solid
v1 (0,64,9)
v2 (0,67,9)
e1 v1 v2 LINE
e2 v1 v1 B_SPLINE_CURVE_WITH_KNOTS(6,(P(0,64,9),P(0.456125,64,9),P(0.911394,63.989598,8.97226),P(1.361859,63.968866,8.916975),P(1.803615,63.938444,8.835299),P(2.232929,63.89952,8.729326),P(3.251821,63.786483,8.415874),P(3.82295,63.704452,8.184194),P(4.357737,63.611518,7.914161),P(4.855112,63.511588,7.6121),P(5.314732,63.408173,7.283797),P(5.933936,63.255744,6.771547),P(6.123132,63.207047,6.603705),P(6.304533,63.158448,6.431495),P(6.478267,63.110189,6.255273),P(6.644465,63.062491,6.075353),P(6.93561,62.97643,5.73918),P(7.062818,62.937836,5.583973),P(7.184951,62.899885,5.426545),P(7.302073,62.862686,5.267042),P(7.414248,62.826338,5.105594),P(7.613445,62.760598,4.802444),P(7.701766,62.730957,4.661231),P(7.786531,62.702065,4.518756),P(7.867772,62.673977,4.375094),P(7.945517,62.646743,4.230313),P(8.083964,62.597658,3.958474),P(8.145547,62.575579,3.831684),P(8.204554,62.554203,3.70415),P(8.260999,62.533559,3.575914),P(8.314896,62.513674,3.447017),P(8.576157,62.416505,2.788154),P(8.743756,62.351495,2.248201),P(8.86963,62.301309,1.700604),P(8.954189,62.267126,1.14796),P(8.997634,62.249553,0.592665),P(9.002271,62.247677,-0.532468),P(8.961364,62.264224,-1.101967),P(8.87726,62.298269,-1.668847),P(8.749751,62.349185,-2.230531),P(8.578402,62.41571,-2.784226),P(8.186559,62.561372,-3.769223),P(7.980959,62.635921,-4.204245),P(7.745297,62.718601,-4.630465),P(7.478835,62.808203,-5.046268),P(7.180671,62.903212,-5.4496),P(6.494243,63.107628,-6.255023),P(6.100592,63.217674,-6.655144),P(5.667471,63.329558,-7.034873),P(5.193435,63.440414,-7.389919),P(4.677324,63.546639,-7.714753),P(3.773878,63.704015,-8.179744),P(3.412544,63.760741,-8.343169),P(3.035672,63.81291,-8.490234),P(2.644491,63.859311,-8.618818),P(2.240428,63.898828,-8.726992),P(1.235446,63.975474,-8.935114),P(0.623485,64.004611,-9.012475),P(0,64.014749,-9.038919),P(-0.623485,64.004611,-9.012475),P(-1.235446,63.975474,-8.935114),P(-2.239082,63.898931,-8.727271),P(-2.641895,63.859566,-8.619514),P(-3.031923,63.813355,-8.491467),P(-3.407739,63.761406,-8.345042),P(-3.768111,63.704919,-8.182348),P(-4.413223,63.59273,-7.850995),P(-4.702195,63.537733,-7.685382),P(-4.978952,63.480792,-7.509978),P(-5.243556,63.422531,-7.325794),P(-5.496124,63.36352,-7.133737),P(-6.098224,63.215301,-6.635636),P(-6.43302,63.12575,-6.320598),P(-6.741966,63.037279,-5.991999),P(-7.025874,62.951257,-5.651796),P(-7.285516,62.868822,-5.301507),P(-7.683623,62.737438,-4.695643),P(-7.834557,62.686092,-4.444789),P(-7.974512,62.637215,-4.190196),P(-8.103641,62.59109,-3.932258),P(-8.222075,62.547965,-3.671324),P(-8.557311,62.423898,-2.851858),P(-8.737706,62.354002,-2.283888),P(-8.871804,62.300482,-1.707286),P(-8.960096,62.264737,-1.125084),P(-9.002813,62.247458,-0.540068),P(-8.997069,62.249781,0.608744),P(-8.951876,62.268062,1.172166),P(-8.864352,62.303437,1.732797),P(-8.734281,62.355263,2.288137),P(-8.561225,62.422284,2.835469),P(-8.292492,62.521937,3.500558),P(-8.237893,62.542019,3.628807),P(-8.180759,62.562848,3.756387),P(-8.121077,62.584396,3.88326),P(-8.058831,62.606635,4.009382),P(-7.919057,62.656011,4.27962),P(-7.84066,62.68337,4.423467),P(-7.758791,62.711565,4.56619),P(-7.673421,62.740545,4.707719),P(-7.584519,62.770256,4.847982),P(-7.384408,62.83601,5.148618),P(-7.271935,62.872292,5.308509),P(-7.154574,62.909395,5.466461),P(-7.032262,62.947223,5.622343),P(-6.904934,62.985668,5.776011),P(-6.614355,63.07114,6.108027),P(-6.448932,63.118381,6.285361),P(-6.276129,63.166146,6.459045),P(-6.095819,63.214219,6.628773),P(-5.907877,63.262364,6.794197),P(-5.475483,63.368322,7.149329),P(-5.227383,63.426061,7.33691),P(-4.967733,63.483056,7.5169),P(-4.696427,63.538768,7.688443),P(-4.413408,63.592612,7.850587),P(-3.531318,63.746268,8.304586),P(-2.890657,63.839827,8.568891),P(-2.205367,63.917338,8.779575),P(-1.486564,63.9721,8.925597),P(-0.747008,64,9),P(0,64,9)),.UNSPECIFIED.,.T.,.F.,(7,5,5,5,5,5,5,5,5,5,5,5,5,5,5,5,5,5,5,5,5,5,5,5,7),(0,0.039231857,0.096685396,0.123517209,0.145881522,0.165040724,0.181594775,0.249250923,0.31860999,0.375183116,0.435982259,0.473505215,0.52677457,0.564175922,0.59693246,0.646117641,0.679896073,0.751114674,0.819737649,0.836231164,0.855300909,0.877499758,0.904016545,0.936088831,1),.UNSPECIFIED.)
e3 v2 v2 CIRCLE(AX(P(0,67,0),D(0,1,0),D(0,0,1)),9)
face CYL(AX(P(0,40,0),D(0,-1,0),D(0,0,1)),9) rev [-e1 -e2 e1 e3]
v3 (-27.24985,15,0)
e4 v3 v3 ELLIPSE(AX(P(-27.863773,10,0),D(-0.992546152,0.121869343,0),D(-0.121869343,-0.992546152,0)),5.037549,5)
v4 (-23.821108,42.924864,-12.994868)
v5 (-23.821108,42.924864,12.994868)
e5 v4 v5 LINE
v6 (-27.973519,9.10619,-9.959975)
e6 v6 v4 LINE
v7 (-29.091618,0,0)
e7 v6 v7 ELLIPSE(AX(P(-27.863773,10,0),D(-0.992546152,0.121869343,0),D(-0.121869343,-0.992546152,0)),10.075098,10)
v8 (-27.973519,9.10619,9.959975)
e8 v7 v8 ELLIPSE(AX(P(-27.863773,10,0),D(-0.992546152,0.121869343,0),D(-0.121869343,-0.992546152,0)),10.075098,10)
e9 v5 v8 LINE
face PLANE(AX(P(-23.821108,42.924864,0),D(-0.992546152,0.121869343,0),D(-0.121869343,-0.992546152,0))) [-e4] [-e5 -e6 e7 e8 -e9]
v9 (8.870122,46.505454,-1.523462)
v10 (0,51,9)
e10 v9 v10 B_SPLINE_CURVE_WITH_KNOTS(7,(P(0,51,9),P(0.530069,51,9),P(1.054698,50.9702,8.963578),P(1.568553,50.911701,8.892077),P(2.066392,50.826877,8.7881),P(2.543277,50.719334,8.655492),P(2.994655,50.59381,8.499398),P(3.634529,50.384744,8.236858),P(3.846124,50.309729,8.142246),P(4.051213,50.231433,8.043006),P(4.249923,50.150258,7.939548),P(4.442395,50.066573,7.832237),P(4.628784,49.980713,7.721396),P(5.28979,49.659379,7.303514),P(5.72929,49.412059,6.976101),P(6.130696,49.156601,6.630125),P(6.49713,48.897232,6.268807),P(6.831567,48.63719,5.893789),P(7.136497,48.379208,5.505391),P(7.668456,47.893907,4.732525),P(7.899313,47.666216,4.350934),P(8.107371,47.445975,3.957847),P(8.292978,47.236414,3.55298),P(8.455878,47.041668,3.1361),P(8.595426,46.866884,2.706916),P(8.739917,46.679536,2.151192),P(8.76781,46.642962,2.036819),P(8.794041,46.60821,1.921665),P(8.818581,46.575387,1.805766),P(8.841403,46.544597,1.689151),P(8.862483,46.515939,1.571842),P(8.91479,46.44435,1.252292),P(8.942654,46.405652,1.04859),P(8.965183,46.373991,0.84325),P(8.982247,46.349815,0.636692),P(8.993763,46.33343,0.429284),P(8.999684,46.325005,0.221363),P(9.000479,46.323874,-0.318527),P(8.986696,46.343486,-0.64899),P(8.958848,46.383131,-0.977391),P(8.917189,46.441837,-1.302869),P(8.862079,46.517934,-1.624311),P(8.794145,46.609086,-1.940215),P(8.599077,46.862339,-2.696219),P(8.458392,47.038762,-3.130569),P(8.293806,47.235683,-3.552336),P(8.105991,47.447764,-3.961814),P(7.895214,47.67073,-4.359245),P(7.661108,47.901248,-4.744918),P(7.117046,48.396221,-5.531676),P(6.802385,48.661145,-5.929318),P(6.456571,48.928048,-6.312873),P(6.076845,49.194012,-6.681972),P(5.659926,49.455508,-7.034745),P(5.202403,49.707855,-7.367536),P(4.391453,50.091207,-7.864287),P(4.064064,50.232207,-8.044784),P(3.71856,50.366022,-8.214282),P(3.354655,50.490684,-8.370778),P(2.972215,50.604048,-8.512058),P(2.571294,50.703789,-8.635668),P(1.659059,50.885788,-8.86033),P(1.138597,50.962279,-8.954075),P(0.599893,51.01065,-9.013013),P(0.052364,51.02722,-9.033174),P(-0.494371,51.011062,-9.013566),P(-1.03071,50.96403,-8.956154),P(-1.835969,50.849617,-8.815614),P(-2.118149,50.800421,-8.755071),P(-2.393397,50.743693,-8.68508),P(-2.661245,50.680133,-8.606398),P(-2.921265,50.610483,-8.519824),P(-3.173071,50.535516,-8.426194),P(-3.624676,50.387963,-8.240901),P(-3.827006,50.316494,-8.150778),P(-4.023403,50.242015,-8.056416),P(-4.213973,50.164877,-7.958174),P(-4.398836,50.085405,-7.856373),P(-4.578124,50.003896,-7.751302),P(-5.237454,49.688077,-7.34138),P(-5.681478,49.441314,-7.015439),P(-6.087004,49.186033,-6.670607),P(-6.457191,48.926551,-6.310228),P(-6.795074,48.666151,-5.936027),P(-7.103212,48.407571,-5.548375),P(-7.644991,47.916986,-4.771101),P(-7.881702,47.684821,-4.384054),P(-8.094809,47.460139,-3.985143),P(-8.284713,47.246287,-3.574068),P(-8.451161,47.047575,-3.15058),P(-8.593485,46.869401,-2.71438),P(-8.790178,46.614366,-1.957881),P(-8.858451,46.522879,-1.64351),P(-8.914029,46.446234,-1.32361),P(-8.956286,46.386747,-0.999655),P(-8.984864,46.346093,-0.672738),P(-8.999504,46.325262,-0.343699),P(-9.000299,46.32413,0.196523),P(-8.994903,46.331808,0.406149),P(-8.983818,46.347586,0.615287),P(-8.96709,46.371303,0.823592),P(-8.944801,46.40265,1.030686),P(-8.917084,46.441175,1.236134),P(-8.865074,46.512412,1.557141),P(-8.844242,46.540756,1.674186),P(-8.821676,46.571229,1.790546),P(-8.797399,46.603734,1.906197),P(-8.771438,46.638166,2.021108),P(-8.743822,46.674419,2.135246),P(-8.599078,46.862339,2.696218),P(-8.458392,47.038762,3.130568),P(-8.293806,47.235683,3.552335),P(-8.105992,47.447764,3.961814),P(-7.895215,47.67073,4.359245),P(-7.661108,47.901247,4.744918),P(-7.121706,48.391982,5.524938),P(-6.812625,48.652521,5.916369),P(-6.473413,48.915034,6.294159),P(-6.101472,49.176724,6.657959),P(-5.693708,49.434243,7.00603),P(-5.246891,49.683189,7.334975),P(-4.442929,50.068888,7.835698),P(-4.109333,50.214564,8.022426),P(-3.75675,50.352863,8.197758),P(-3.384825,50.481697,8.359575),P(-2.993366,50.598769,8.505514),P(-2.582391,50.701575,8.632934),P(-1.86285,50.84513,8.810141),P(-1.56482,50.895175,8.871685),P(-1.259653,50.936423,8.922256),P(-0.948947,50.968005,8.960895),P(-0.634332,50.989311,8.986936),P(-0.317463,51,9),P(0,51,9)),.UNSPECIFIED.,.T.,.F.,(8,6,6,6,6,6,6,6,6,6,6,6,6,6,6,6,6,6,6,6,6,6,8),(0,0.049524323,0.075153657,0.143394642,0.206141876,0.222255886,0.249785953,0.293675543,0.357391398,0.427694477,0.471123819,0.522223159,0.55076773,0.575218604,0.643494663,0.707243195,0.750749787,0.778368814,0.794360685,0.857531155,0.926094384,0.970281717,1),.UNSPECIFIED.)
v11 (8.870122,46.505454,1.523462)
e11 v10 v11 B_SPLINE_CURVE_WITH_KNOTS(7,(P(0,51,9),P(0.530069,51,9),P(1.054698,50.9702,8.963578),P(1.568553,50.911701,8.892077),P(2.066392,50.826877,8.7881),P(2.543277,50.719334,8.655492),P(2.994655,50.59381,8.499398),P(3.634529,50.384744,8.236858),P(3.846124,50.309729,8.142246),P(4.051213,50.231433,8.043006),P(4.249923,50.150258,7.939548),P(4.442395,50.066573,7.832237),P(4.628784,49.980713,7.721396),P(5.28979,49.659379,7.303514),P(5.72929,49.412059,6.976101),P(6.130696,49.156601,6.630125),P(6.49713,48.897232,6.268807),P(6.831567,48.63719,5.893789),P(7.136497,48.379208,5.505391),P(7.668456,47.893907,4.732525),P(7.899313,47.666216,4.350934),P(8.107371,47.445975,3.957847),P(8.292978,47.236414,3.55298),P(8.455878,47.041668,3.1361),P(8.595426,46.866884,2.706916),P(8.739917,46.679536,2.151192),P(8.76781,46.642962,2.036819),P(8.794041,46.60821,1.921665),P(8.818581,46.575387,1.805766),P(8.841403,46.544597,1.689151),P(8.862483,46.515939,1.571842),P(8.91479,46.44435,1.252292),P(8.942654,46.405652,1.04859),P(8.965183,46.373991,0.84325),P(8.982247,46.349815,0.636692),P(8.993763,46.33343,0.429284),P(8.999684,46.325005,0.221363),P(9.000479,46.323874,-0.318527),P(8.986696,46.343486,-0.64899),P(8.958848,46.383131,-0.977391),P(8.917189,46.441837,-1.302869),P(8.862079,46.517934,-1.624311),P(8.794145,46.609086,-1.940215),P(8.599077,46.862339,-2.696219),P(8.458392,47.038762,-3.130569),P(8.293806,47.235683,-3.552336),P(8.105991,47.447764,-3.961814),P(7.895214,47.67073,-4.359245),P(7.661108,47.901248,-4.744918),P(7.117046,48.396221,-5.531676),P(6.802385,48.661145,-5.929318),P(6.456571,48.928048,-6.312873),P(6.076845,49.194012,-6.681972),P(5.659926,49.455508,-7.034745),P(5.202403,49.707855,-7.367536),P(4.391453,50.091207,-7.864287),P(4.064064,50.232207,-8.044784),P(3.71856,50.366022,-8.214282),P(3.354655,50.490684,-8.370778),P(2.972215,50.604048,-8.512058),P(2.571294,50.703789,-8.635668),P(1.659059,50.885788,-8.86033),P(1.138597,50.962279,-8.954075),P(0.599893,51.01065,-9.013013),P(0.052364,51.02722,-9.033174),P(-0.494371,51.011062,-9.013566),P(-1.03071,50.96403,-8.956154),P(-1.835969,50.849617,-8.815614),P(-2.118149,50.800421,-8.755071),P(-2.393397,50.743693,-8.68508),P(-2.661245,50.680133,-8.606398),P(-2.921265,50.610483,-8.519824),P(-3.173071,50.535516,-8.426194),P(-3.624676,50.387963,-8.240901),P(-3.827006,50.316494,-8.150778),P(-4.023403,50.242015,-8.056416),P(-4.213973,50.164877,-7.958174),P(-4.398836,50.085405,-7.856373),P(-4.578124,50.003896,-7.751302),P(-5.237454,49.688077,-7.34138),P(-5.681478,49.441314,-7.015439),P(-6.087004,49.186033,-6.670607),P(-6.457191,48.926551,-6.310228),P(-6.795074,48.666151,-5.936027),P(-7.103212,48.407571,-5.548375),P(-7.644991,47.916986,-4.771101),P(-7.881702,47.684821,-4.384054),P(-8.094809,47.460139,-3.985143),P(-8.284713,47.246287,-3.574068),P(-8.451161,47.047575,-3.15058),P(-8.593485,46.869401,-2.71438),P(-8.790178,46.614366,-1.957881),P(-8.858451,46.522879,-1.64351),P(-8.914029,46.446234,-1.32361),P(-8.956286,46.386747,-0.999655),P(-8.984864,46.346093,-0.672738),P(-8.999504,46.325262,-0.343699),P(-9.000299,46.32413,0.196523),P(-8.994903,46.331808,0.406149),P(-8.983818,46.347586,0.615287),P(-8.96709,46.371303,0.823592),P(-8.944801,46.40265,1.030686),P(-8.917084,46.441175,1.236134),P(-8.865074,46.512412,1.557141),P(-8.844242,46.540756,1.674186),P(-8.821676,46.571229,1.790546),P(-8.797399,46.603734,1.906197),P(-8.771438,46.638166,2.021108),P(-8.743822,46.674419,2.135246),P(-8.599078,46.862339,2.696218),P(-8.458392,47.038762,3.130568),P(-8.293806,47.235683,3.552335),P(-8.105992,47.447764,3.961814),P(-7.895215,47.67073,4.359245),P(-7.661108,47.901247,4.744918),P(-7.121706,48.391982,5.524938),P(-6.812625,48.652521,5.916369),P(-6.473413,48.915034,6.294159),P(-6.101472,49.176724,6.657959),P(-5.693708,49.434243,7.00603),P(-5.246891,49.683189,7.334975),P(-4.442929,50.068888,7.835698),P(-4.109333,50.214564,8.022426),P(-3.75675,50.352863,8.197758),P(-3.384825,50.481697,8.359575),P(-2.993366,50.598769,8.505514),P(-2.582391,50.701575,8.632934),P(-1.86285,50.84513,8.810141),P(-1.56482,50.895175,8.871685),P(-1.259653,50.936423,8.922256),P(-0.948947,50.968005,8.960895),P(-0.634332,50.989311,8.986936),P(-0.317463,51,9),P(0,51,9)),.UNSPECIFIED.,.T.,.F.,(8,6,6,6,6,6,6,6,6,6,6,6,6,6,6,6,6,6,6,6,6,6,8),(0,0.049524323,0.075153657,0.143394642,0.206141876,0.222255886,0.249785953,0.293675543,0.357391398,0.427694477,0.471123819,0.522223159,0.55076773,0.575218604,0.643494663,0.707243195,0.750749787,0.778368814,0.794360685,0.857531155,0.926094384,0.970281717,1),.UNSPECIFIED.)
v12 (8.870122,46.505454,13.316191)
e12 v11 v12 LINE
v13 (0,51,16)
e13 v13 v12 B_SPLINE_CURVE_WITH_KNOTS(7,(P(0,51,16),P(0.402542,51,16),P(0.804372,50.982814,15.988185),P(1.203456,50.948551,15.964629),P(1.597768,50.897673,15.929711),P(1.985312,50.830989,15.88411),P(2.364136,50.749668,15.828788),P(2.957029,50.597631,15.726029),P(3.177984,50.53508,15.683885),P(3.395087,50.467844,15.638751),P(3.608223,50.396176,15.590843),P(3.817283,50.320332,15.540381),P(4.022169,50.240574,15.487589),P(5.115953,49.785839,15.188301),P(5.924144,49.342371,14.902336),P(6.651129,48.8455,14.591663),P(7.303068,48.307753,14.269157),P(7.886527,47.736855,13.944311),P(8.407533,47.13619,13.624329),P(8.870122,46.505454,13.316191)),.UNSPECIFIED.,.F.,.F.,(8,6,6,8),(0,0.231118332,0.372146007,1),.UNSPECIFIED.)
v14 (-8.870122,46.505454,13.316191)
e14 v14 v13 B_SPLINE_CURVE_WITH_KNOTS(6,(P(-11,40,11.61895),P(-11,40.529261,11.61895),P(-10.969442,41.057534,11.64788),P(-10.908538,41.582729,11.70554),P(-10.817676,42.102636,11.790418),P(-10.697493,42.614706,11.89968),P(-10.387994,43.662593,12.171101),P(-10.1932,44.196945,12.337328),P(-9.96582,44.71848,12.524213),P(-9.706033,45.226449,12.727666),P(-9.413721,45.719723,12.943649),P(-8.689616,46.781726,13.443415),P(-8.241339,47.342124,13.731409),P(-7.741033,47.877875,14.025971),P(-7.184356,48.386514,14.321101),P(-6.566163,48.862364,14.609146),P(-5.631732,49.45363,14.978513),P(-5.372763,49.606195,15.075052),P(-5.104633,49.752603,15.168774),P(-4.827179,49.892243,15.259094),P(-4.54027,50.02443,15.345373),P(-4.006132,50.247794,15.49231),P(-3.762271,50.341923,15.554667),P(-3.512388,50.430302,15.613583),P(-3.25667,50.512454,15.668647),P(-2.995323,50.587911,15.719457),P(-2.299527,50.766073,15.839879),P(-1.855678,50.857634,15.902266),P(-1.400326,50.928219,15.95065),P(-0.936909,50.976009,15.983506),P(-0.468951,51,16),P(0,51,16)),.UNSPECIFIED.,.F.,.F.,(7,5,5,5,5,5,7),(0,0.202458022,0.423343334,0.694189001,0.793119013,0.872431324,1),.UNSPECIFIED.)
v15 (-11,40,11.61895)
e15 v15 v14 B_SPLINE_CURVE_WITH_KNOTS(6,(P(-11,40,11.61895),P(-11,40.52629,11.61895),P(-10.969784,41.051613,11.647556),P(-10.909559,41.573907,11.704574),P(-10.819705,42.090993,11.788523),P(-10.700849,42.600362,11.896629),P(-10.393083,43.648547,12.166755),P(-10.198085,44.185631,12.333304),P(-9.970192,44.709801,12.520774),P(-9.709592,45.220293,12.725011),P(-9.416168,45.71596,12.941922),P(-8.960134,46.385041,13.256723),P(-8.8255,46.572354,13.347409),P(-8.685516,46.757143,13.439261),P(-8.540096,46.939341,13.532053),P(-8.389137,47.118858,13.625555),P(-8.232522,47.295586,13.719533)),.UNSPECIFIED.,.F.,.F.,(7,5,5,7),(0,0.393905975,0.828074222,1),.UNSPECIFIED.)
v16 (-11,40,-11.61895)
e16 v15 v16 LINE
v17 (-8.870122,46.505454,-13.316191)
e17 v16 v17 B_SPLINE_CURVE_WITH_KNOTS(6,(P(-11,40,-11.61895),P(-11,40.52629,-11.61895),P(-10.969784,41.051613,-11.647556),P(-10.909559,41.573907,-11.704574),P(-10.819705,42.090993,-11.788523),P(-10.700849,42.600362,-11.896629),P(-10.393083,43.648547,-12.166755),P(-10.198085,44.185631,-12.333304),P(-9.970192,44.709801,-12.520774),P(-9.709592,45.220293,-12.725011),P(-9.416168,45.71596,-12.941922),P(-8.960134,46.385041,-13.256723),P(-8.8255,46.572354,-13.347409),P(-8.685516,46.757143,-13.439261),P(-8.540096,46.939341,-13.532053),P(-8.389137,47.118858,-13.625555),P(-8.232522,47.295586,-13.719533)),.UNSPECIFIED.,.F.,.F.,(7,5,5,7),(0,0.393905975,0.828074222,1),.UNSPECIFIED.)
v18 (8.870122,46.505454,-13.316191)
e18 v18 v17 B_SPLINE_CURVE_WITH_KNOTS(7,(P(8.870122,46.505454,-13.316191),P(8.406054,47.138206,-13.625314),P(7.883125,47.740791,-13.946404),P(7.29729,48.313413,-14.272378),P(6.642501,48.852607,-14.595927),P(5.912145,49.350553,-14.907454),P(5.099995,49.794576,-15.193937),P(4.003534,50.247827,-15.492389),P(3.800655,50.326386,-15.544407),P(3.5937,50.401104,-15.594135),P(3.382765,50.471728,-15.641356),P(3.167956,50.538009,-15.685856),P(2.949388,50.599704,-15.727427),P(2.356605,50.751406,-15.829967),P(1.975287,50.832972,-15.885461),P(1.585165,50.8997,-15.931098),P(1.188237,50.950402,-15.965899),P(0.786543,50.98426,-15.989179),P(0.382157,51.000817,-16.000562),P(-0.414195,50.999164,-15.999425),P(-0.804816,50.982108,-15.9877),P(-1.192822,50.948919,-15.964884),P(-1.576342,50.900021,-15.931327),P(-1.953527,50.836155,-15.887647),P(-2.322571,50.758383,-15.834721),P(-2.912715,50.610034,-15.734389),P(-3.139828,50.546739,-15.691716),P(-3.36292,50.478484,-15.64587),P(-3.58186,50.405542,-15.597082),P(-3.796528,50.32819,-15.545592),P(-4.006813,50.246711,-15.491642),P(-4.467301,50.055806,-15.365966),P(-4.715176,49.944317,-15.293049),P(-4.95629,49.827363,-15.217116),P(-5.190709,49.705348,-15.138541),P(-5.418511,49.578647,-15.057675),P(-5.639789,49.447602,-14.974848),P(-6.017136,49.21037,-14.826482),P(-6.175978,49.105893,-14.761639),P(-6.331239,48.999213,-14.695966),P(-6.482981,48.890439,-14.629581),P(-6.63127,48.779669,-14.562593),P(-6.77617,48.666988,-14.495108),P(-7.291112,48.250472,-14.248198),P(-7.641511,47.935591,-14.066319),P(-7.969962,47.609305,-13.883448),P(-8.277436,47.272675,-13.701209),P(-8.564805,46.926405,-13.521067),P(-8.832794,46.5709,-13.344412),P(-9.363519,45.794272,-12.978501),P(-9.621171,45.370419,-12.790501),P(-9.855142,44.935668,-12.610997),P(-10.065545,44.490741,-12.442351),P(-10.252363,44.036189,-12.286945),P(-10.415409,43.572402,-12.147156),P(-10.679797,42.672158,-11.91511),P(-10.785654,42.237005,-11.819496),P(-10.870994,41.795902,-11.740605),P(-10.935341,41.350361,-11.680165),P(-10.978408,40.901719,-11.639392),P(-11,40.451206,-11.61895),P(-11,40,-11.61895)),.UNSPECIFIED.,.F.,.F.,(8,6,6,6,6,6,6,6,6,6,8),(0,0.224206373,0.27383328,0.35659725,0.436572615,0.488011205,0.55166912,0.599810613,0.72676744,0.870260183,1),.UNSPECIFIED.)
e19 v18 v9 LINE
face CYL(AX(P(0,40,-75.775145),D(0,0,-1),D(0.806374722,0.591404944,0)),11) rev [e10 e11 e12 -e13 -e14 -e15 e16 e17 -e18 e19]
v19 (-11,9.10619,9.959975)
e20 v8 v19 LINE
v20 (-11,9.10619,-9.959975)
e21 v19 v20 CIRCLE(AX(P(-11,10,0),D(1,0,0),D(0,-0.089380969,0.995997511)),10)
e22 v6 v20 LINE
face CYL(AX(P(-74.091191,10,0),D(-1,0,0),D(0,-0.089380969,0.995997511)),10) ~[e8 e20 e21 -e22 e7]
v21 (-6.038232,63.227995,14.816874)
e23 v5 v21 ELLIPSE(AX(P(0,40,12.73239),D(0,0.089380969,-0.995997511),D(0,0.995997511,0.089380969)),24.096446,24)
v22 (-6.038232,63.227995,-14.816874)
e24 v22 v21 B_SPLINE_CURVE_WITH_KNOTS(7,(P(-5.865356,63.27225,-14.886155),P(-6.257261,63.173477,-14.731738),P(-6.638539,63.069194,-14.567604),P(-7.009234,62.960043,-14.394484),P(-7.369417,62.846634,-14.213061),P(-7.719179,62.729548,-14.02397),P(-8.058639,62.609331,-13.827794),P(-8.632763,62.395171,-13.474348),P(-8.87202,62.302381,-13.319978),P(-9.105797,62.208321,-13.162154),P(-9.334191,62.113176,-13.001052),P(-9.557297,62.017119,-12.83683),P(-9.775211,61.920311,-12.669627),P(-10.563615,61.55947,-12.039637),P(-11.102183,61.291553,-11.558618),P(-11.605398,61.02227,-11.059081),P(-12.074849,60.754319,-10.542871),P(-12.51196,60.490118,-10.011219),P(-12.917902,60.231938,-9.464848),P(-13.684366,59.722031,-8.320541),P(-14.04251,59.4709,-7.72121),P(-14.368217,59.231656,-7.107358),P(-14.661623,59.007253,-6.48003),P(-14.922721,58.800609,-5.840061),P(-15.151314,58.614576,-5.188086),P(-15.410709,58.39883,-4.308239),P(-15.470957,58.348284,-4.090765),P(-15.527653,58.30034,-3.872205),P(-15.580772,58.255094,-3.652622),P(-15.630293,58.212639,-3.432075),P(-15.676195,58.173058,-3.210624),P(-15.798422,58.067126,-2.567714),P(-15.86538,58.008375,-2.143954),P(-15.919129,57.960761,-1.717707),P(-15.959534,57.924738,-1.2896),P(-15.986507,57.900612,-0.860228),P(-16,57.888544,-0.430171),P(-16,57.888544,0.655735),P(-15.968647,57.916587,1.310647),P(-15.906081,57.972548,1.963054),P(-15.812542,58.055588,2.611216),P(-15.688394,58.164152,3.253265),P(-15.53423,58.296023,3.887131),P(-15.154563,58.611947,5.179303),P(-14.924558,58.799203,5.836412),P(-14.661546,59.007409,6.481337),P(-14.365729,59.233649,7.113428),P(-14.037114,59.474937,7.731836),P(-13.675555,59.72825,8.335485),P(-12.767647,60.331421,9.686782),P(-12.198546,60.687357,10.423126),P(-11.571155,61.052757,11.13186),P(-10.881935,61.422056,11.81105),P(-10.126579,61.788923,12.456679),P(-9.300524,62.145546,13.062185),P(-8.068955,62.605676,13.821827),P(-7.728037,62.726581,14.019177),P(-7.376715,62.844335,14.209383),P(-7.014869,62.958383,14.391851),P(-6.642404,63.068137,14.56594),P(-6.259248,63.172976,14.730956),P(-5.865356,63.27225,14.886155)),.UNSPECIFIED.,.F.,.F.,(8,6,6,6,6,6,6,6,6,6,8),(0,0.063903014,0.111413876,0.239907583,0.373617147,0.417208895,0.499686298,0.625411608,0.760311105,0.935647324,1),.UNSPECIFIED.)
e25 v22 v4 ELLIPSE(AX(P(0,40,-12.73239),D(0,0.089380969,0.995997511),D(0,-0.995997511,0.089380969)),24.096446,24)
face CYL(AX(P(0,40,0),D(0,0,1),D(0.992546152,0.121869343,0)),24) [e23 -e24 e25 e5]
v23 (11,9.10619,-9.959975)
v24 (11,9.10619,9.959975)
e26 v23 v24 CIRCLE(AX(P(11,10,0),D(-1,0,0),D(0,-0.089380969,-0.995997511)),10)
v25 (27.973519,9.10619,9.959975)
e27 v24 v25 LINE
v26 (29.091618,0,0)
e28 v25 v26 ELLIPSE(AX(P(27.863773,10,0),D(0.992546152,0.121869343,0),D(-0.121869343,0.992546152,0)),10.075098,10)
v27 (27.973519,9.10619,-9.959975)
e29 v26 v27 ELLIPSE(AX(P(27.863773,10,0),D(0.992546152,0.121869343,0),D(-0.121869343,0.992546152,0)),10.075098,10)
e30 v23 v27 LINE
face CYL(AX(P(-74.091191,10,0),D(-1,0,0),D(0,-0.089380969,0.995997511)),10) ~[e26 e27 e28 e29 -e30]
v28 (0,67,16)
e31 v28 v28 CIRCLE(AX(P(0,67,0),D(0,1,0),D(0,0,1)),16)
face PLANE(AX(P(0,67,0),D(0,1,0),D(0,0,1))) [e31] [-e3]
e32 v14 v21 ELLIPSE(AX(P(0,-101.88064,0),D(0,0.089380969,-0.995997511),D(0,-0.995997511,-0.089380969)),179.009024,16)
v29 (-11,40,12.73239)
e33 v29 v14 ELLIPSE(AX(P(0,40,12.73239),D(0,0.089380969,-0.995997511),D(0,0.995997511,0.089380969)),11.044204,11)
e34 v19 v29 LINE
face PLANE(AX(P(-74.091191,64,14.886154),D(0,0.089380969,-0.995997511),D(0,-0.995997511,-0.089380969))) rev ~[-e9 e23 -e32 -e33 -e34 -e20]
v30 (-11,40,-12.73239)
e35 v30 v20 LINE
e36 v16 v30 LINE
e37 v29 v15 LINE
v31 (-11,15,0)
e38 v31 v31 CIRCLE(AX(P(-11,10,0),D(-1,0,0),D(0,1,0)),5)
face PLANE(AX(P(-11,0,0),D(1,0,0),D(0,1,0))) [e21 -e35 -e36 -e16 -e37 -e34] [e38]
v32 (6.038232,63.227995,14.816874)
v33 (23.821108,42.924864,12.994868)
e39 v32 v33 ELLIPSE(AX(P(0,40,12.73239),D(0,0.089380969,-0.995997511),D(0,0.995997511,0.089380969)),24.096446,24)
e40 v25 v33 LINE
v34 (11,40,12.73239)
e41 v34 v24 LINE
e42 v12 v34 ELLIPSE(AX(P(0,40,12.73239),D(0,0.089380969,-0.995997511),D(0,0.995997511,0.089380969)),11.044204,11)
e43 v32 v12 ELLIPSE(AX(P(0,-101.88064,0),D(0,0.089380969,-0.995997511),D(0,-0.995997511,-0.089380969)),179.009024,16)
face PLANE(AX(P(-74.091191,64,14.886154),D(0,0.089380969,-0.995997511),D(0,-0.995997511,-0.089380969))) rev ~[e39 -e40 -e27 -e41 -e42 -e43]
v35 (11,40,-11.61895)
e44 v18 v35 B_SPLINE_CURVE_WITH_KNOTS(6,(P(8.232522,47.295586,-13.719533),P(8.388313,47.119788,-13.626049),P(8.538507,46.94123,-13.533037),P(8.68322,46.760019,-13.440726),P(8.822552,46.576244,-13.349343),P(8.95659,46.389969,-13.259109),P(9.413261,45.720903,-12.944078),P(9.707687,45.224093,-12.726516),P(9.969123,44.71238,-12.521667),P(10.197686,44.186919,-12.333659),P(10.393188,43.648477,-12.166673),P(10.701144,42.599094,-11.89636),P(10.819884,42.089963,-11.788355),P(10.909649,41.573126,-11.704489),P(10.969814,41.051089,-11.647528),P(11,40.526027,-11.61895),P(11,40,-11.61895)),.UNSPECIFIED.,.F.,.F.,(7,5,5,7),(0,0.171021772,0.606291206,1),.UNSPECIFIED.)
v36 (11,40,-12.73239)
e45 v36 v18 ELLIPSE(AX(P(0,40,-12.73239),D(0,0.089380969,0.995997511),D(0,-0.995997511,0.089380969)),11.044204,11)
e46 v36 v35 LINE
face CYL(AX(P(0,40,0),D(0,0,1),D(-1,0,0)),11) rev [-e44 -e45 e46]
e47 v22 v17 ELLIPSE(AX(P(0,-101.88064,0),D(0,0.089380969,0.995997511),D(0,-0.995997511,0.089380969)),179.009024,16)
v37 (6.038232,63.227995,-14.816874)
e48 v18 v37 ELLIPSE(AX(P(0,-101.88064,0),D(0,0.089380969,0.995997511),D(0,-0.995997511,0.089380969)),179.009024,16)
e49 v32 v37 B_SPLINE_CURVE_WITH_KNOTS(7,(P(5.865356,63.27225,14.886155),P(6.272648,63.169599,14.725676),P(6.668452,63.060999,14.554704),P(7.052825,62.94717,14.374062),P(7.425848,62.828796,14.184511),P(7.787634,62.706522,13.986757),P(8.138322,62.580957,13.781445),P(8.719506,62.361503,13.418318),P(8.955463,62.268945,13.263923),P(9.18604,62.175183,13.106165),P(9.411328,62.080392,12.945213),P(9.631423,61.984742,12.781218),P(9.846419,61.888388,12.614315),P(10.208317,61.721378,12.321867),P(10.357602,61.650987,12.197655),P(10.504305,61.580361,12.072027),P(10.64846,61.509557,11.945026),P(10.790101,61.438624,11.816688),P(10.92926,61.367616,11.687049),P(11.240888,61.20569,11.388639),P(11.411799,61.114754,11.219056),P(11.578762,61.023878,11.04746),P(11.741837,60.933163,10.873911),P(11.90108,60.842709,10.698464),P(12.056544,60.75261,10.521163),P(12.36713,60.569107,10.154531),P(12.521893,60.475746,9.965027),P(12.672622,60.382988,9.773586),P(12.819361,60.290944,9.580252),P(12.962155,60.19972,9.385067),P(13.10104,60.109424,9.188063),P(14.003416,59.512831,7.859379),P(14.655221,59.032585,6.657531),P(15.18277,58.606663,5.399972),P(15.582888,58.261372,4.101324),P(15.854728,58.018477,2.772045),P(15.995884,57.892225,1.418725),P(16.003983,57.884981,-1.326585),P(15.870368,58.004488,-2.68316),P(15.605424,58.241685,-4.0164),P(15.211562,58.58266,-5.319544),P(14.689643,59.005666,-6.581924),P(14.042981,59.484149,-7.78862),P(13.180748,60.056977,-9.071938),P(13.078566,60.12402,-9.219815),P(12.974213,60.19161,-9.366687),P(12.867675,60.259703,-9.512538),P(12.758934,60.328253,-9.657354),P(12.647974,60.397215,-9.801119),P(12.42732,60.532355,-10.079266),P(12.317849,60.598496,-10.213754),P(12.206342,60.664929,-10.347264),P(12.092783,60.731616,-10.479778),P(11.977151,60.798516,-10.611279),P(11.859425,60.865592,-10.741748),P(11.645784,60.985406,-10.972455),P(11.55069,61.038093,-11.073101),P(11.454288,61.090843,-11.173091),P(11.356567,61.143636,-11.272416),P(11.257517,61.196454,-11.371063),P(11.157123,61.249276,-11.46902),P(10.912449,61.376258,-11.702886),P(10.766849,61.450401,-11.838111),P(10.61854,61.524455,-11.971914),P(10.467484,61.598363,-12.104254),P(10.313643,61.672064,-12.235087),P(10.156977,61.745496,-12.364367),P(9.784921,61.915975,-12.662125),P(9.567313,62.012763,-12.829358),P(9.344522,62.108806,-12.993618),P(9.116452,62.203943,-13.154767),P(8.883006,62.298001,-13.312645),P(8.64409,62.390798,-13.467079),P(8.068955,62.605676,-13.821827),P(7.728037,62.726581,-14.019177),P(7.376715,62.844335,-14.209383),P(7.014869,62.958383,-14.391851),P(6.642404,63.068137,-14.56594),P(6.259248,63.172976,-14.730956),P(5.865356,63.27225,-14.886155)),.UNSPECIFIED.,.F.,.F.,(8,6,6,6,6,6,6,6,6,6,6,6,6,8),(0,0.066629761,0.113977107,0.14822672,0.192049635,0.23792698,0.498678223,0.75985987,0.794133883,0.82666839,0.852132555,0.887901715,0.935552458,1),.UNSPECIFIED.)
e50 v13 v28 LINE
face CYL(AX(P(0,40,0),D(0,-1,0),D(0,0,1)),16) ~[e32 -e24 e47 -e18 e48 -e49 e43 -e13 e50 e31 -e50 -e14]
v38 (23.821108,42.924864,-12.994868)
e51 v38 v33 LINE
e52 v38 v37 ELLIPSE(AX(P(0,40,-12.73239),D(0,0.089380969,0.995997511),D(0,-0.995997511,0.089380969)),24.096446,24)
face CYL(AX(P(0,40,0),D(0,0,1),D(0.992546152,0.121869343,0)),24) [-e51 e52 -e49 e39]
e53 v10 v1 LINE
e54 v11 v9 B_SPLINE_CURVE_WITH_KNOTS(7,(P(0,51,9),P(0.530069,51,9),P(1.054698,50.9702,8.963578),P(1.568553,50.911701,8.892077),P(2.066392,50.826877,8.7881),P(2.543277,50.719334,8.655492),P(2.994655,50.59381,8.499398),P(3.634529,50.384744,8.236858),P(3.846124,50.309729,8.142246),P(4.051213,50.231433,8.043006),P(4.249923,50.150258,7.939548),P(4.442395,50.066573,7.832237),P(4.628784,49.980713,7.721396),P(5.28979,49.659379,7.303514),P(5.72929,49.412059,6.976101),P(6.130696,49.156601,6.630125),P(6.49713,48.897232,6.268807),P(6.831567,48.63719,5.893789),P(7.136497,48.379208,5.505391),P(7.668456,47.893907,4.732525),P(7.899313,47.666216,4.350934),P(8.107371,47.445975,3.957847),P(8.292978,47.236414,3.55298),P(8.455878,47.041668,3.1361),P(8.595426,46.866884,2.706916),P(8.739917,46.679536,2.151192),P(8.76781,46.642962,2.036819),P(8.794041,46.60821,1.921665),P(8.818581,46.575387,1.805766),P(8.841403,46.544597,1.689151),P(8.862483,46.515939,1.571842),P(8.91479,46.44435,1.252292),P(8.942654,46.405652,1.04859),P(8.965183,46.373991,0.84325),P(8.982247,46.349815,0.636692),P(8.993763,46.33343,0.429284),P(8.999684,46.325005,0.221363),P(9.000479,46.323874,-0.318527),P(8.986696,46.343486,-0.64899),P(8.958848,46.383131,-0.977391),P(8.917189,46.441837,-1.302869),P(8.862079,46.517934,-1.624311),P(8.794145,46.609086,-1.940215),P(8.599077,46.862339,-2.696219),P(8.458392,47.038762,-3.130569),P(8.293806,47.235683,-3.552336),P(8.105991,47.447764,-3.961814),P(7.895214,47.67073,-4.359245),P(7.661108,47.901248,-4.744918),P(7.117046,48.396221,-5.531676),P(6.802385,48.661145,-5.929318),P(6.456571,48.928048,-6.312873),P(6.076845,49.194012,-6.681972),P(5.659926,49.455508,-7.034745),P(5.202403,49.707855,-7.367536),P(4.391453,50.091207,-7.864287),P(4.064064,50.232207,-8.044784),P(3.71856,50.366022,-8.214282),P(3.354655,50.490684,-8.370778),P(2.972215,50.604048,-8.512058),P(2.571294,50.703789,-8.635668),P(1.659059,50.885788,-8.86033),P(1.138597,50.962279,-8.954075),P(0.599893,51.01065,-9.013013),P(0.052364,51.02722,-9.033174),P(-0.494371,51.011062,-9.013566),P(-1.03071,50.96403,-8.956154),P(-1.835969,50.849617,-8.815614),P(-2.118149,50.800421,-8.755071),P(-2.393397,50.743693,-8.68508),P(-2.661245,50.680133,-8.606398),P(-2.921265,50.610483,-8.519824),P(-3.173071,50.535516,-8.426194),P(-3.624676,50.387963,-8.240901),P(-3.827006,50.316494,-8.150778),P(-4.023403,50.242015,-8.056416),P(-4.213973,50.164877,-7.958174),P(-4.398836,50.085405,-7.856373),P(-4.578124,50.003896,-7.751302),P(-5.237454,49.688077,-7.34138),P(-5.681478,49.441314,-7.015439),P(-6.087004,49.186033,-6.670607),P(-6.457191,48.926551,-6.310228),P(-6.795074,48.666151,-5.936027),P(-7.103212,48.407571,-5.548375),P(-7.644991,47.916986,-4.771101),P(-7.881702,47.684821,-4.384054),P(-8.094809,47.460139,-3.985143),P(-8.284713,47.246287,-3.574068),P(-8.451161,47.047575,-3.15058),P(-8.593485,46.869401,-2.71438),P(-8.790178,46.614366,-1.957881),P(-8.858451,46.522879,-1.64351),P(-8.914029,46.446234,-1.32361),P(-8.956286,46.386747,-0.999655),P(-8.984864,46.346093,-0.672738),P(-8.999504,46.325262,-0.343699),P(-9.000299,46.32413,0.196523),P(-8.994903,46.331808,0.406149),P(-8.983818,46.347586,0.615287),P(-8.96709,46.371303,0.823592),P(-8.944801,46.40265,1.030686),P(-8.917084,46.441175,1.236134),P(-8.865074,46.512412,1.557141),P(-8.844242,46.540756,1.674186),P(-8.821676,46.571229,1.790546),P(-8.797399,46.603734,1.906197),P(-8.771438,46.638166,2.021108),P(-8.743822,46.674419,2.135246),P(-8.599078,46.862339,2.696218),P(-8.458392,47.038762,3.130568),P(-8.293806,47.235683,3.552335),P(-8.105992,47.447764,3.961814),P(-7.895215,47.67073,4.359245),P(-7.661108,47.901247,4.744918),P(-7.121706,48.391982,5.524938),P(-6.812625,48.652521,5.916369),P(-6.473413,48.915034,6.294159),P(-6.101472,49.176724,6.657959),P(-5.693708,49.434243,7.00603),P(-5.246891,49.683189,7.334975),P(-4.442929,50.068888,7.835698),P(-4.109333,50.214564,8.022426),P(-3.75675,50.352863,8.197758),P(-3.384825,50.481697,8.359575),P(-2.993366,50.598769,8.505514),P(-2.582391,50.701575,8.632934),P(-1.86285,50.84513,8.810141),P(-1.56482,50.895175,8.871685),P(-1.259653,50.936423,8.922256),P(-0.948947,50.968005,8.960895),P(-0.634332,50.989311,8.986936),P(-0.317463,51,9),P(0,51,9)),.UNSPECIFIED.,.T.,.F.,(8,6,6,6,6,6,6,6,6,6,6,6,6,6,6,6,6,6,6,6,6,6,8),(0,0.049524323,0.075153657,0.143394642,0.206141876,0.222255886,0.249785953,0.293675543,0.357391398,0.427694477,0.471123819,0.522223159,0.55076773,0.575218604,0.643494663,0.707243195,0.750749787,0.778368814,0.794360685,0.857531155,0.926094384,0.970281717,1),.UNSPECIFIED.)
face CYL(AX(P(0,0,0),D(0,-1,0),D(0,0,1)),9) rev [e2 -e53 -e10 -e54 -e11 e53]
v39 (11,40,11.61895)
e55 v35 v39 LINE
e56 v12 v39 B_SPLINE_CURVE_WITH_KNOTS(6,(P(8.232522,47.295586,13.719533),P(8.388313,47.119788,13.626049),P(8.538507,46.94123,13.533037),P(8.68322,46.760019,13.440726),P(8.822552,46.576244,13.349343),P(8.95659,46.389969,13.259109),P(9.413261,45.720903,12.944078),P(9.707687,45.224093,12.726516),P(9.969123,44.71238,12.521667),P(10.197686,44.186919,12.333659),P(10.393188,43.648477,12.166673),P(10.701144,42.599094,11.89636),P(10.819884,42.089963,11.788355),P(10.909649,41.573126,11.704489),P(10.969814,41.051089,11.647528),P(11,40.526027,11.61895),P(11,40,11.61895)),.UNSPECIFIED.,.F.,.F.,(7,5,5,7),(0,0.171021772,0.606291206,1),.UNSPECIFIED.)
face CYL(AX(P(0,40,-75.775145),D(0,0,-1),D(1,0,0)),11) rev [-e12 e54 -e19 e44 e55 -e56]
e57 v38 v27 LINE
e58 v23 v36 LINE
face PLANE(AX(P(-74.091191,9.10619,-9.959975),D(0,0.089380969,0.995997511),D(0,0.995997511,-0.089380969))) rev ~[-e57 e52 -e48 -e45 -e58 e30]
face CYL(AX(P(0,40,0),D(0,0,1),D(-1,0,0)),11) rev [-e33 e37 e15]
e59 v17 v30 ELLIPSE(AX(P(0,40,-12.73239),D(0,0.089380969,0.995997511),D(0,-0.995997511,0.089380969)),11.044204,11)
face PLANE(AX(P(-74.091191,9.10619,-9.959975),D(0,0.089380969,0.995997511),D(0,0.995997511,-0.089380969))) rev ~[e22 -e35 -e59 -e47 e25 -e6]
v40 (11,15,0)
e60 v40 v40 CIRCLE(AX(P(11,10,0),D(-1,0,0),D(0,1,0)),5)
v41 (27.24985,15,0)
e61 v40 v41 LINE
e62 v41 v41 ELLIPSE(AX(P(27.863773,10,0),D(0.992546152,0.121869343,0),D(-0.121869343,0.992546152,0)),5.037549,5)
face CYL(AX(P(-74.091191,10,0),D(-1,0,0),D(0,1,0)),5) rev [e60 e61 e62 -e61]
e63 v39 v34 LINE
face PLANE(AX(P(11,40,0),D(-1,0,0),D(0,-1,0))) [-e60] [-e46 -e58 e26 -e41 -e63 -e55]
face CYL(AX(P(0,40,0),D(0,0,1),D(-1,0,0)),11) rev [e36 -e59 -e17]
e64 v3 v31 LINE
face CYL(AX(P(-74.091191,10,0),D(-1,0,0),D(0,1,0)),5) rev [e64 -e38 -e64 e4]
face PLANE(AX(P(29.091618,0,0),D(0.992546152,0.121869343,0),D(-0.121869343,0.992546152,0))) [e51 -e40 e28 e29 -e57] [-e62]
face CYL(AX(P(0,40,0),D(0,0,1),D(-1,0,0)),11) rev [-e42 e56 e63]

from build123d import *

# Parameters (mm, degrees)
BOSS_EXTRUDE2_DEPTH     = 20
CUT_EXTRUDE5_DEPTH      = 74.091191345
CUT_EXTRUDE5_DEPTH_BACK = 74.091191345
SKETCH3_OUTSIDE_W       = 61.06
SKETCH3_OUTSIDE_H       = 85.06
SKETCH3_OUTSIDE_R       = 5
BOSS_EXTRUDE3_START     = 40
SKETCH4_R               = 16
SKETCH4_R_2             = 9
BOSS_EXTRUDE3_DEPTH     = 27
SKETCH4_4_R             = 9
CUT_EXTRUDE7_DEPTH      = 70
CUT_EXTRUDE8_DEPTH      = 75.775144726
CUT_EXTRUDE8_DEPTH_BACK = 75.775144726


with BuildPart() as part:
    # Sketch1 → Boss-Extrude2 (new, symmetric)
    with BuildSketch(Plane.XY):
        with BuildLine():
            ThreePointArc((-11, 40), (0, 51), (11, 40))
            Line((11, 40), (11, 18.669270992))
            ThreePointArc((11, 18.669270992), (20.493901532, 27.510004003), (24, 40))
            ThreePointArc((24, 40), (23.955235162, 41.465164949), (23.821107639, 42.924864242))
            ThreePointArc((23.821107639, 42.924864242), (0, 64), (-23.821107639, 42.924864242))
            ThreePointArc((-23.821107639, 42.924864242), (-21.218172289, 28.784423121), (-11, 18.669270992))
            Line((-11, 18.669270992), (-11, 40))
        make_face()
        with BuildLine():
            ThreePointArc((24, 40), (20.493901532, 27.510004003), (11, 18.669270992))
            Line((11, 18.669270992), (11, 0))
            Line((11, 0), (29.091618247, 0))
            Line((29.091618247, 0), (23.821107639, 42.924864242))
            ThreePointArc((23.821107639, 42.924864242), (23.955235162, 41.465164949), (24, 40))
        make_face()
        with BuildLine():
            Line((-11, 0), (-11, 18.669270992))
            ThreePointArc((-11, 18.669270992), (-21.218172289, 28.784423121), (-23.821107639, 42.924864242))
            Line((-23.821107639, 42.924864242), (-29.091618247, 0))
            Line((-29.091618247, 0), (-11, 0))
        make_face()
    extrude(amount=BOSS_EXTRUDE2_DEPTH, both=True)

    # Sketch3 outside → Cut-Extrude5 (cut, two sides: drawn at the far end of the back side and taken through both)
    # profile 1 of 2: a face of its own
    with BuildSketch(Plane(origin=(0, 0, 0), x_dir=(0, 0, -1), z_dir=(1, 0, 0)).offset(-CUT_EXTRUDE5_DEPTH_BACK)):
        with Locations((0, 32)):
            Rectangle(SKETCH3_OUTSIDE_W, SKETCH3_OUTSIDE_H)
        with BuildLine():
            Line((-14.886153969, 64), (-9.959975113, 9.106190314))
            ThreePointArc((-9.959975113, 9.106190314), (0, 0), (9.959975113, 9.106190314))
            Line((9.959975113, 9.106190314), (14.886153969, 64))
            Line((14.886153969, 64), (-14.886153969, 64))
        make_face(mode=Mode.SUBTRACT)
    # profile 2 of 2: a face of its own
    with BuildSketch(Plane(origin=(0, 0, 0), x_dir=(0, 0, -1), z_dir=(1, 0, 0)).offset(-CUT_EXTRUDE5_DEPTH_BACK)):
        with Locations(Location((0, 10, 0), (0, 0, 90))):
            Circle(SKETCH3_OUTSIDE_R)
    extrude(amount=CUT_EXTRUDE5_DEPTH + CUT_EXTRUDE5_DEPTH_BACK, mode=Mode.SUBTRACT)

    # Sketch4 → Boss-Extrude3 (add)
    with BuildSketch(Plane(origin=(0, 0, 0), x_dir=(1, 0, 0), z_dir=(0, 1, 0)).offset(BOSS_EXTRUDE3_START)):
        with Locations(Location((0, 0, 0), (0, 0, 270))):
            Circle(SKETCH4_R)
        with Locations(Location((0, 0, 0), (0, 0, 270))):
            Circle(SKETCH4_R_2, mode=Mode.SUBTRACT)
    extrude(amount=BOSS_EXTRUDE3_DEPTH)

    # Sketch4<4> → Cut-Extrude7 (cut)
    with BuildSketch(Plane(origin=(0, 0, 0), x_dir=(1, 0, 0), z_dir=(0, 1, 0))):
        with Locations(Location((0, 0, 0), (0, 0, 270))):
            Circle(SKETCH4_4_R)
    extrude(amount=CUT_EXTRUDE7_DEPTH, mode=Mode.SUBTRACT)

    # Sketch5 → Cut-Extrude8 (cut, two sides: drawn at the far end of the back side and taken through both)
    with BuildSketch(Plane.XY.offset(-CUT_EXTRUDE8_DEPTH_BACK)):
        with BuildLine():
            Line((-11, 40), (11, 40))
            ThreePointArc((11, 40), (10.4539787, 43.422620245), (8.870121938, 46.505454388))
            ThreePointArc((8.870121938, 46.505454388), (-3.422620245, 50.4539787), (-11, 40))
        make_face()
    extrude(amount=CUT_EXTRUDE8_DEPTH + CUT_EXTRUDE8_DEPTH_BACK, mode=Mode.SUBTRACT)


solid = part.part
